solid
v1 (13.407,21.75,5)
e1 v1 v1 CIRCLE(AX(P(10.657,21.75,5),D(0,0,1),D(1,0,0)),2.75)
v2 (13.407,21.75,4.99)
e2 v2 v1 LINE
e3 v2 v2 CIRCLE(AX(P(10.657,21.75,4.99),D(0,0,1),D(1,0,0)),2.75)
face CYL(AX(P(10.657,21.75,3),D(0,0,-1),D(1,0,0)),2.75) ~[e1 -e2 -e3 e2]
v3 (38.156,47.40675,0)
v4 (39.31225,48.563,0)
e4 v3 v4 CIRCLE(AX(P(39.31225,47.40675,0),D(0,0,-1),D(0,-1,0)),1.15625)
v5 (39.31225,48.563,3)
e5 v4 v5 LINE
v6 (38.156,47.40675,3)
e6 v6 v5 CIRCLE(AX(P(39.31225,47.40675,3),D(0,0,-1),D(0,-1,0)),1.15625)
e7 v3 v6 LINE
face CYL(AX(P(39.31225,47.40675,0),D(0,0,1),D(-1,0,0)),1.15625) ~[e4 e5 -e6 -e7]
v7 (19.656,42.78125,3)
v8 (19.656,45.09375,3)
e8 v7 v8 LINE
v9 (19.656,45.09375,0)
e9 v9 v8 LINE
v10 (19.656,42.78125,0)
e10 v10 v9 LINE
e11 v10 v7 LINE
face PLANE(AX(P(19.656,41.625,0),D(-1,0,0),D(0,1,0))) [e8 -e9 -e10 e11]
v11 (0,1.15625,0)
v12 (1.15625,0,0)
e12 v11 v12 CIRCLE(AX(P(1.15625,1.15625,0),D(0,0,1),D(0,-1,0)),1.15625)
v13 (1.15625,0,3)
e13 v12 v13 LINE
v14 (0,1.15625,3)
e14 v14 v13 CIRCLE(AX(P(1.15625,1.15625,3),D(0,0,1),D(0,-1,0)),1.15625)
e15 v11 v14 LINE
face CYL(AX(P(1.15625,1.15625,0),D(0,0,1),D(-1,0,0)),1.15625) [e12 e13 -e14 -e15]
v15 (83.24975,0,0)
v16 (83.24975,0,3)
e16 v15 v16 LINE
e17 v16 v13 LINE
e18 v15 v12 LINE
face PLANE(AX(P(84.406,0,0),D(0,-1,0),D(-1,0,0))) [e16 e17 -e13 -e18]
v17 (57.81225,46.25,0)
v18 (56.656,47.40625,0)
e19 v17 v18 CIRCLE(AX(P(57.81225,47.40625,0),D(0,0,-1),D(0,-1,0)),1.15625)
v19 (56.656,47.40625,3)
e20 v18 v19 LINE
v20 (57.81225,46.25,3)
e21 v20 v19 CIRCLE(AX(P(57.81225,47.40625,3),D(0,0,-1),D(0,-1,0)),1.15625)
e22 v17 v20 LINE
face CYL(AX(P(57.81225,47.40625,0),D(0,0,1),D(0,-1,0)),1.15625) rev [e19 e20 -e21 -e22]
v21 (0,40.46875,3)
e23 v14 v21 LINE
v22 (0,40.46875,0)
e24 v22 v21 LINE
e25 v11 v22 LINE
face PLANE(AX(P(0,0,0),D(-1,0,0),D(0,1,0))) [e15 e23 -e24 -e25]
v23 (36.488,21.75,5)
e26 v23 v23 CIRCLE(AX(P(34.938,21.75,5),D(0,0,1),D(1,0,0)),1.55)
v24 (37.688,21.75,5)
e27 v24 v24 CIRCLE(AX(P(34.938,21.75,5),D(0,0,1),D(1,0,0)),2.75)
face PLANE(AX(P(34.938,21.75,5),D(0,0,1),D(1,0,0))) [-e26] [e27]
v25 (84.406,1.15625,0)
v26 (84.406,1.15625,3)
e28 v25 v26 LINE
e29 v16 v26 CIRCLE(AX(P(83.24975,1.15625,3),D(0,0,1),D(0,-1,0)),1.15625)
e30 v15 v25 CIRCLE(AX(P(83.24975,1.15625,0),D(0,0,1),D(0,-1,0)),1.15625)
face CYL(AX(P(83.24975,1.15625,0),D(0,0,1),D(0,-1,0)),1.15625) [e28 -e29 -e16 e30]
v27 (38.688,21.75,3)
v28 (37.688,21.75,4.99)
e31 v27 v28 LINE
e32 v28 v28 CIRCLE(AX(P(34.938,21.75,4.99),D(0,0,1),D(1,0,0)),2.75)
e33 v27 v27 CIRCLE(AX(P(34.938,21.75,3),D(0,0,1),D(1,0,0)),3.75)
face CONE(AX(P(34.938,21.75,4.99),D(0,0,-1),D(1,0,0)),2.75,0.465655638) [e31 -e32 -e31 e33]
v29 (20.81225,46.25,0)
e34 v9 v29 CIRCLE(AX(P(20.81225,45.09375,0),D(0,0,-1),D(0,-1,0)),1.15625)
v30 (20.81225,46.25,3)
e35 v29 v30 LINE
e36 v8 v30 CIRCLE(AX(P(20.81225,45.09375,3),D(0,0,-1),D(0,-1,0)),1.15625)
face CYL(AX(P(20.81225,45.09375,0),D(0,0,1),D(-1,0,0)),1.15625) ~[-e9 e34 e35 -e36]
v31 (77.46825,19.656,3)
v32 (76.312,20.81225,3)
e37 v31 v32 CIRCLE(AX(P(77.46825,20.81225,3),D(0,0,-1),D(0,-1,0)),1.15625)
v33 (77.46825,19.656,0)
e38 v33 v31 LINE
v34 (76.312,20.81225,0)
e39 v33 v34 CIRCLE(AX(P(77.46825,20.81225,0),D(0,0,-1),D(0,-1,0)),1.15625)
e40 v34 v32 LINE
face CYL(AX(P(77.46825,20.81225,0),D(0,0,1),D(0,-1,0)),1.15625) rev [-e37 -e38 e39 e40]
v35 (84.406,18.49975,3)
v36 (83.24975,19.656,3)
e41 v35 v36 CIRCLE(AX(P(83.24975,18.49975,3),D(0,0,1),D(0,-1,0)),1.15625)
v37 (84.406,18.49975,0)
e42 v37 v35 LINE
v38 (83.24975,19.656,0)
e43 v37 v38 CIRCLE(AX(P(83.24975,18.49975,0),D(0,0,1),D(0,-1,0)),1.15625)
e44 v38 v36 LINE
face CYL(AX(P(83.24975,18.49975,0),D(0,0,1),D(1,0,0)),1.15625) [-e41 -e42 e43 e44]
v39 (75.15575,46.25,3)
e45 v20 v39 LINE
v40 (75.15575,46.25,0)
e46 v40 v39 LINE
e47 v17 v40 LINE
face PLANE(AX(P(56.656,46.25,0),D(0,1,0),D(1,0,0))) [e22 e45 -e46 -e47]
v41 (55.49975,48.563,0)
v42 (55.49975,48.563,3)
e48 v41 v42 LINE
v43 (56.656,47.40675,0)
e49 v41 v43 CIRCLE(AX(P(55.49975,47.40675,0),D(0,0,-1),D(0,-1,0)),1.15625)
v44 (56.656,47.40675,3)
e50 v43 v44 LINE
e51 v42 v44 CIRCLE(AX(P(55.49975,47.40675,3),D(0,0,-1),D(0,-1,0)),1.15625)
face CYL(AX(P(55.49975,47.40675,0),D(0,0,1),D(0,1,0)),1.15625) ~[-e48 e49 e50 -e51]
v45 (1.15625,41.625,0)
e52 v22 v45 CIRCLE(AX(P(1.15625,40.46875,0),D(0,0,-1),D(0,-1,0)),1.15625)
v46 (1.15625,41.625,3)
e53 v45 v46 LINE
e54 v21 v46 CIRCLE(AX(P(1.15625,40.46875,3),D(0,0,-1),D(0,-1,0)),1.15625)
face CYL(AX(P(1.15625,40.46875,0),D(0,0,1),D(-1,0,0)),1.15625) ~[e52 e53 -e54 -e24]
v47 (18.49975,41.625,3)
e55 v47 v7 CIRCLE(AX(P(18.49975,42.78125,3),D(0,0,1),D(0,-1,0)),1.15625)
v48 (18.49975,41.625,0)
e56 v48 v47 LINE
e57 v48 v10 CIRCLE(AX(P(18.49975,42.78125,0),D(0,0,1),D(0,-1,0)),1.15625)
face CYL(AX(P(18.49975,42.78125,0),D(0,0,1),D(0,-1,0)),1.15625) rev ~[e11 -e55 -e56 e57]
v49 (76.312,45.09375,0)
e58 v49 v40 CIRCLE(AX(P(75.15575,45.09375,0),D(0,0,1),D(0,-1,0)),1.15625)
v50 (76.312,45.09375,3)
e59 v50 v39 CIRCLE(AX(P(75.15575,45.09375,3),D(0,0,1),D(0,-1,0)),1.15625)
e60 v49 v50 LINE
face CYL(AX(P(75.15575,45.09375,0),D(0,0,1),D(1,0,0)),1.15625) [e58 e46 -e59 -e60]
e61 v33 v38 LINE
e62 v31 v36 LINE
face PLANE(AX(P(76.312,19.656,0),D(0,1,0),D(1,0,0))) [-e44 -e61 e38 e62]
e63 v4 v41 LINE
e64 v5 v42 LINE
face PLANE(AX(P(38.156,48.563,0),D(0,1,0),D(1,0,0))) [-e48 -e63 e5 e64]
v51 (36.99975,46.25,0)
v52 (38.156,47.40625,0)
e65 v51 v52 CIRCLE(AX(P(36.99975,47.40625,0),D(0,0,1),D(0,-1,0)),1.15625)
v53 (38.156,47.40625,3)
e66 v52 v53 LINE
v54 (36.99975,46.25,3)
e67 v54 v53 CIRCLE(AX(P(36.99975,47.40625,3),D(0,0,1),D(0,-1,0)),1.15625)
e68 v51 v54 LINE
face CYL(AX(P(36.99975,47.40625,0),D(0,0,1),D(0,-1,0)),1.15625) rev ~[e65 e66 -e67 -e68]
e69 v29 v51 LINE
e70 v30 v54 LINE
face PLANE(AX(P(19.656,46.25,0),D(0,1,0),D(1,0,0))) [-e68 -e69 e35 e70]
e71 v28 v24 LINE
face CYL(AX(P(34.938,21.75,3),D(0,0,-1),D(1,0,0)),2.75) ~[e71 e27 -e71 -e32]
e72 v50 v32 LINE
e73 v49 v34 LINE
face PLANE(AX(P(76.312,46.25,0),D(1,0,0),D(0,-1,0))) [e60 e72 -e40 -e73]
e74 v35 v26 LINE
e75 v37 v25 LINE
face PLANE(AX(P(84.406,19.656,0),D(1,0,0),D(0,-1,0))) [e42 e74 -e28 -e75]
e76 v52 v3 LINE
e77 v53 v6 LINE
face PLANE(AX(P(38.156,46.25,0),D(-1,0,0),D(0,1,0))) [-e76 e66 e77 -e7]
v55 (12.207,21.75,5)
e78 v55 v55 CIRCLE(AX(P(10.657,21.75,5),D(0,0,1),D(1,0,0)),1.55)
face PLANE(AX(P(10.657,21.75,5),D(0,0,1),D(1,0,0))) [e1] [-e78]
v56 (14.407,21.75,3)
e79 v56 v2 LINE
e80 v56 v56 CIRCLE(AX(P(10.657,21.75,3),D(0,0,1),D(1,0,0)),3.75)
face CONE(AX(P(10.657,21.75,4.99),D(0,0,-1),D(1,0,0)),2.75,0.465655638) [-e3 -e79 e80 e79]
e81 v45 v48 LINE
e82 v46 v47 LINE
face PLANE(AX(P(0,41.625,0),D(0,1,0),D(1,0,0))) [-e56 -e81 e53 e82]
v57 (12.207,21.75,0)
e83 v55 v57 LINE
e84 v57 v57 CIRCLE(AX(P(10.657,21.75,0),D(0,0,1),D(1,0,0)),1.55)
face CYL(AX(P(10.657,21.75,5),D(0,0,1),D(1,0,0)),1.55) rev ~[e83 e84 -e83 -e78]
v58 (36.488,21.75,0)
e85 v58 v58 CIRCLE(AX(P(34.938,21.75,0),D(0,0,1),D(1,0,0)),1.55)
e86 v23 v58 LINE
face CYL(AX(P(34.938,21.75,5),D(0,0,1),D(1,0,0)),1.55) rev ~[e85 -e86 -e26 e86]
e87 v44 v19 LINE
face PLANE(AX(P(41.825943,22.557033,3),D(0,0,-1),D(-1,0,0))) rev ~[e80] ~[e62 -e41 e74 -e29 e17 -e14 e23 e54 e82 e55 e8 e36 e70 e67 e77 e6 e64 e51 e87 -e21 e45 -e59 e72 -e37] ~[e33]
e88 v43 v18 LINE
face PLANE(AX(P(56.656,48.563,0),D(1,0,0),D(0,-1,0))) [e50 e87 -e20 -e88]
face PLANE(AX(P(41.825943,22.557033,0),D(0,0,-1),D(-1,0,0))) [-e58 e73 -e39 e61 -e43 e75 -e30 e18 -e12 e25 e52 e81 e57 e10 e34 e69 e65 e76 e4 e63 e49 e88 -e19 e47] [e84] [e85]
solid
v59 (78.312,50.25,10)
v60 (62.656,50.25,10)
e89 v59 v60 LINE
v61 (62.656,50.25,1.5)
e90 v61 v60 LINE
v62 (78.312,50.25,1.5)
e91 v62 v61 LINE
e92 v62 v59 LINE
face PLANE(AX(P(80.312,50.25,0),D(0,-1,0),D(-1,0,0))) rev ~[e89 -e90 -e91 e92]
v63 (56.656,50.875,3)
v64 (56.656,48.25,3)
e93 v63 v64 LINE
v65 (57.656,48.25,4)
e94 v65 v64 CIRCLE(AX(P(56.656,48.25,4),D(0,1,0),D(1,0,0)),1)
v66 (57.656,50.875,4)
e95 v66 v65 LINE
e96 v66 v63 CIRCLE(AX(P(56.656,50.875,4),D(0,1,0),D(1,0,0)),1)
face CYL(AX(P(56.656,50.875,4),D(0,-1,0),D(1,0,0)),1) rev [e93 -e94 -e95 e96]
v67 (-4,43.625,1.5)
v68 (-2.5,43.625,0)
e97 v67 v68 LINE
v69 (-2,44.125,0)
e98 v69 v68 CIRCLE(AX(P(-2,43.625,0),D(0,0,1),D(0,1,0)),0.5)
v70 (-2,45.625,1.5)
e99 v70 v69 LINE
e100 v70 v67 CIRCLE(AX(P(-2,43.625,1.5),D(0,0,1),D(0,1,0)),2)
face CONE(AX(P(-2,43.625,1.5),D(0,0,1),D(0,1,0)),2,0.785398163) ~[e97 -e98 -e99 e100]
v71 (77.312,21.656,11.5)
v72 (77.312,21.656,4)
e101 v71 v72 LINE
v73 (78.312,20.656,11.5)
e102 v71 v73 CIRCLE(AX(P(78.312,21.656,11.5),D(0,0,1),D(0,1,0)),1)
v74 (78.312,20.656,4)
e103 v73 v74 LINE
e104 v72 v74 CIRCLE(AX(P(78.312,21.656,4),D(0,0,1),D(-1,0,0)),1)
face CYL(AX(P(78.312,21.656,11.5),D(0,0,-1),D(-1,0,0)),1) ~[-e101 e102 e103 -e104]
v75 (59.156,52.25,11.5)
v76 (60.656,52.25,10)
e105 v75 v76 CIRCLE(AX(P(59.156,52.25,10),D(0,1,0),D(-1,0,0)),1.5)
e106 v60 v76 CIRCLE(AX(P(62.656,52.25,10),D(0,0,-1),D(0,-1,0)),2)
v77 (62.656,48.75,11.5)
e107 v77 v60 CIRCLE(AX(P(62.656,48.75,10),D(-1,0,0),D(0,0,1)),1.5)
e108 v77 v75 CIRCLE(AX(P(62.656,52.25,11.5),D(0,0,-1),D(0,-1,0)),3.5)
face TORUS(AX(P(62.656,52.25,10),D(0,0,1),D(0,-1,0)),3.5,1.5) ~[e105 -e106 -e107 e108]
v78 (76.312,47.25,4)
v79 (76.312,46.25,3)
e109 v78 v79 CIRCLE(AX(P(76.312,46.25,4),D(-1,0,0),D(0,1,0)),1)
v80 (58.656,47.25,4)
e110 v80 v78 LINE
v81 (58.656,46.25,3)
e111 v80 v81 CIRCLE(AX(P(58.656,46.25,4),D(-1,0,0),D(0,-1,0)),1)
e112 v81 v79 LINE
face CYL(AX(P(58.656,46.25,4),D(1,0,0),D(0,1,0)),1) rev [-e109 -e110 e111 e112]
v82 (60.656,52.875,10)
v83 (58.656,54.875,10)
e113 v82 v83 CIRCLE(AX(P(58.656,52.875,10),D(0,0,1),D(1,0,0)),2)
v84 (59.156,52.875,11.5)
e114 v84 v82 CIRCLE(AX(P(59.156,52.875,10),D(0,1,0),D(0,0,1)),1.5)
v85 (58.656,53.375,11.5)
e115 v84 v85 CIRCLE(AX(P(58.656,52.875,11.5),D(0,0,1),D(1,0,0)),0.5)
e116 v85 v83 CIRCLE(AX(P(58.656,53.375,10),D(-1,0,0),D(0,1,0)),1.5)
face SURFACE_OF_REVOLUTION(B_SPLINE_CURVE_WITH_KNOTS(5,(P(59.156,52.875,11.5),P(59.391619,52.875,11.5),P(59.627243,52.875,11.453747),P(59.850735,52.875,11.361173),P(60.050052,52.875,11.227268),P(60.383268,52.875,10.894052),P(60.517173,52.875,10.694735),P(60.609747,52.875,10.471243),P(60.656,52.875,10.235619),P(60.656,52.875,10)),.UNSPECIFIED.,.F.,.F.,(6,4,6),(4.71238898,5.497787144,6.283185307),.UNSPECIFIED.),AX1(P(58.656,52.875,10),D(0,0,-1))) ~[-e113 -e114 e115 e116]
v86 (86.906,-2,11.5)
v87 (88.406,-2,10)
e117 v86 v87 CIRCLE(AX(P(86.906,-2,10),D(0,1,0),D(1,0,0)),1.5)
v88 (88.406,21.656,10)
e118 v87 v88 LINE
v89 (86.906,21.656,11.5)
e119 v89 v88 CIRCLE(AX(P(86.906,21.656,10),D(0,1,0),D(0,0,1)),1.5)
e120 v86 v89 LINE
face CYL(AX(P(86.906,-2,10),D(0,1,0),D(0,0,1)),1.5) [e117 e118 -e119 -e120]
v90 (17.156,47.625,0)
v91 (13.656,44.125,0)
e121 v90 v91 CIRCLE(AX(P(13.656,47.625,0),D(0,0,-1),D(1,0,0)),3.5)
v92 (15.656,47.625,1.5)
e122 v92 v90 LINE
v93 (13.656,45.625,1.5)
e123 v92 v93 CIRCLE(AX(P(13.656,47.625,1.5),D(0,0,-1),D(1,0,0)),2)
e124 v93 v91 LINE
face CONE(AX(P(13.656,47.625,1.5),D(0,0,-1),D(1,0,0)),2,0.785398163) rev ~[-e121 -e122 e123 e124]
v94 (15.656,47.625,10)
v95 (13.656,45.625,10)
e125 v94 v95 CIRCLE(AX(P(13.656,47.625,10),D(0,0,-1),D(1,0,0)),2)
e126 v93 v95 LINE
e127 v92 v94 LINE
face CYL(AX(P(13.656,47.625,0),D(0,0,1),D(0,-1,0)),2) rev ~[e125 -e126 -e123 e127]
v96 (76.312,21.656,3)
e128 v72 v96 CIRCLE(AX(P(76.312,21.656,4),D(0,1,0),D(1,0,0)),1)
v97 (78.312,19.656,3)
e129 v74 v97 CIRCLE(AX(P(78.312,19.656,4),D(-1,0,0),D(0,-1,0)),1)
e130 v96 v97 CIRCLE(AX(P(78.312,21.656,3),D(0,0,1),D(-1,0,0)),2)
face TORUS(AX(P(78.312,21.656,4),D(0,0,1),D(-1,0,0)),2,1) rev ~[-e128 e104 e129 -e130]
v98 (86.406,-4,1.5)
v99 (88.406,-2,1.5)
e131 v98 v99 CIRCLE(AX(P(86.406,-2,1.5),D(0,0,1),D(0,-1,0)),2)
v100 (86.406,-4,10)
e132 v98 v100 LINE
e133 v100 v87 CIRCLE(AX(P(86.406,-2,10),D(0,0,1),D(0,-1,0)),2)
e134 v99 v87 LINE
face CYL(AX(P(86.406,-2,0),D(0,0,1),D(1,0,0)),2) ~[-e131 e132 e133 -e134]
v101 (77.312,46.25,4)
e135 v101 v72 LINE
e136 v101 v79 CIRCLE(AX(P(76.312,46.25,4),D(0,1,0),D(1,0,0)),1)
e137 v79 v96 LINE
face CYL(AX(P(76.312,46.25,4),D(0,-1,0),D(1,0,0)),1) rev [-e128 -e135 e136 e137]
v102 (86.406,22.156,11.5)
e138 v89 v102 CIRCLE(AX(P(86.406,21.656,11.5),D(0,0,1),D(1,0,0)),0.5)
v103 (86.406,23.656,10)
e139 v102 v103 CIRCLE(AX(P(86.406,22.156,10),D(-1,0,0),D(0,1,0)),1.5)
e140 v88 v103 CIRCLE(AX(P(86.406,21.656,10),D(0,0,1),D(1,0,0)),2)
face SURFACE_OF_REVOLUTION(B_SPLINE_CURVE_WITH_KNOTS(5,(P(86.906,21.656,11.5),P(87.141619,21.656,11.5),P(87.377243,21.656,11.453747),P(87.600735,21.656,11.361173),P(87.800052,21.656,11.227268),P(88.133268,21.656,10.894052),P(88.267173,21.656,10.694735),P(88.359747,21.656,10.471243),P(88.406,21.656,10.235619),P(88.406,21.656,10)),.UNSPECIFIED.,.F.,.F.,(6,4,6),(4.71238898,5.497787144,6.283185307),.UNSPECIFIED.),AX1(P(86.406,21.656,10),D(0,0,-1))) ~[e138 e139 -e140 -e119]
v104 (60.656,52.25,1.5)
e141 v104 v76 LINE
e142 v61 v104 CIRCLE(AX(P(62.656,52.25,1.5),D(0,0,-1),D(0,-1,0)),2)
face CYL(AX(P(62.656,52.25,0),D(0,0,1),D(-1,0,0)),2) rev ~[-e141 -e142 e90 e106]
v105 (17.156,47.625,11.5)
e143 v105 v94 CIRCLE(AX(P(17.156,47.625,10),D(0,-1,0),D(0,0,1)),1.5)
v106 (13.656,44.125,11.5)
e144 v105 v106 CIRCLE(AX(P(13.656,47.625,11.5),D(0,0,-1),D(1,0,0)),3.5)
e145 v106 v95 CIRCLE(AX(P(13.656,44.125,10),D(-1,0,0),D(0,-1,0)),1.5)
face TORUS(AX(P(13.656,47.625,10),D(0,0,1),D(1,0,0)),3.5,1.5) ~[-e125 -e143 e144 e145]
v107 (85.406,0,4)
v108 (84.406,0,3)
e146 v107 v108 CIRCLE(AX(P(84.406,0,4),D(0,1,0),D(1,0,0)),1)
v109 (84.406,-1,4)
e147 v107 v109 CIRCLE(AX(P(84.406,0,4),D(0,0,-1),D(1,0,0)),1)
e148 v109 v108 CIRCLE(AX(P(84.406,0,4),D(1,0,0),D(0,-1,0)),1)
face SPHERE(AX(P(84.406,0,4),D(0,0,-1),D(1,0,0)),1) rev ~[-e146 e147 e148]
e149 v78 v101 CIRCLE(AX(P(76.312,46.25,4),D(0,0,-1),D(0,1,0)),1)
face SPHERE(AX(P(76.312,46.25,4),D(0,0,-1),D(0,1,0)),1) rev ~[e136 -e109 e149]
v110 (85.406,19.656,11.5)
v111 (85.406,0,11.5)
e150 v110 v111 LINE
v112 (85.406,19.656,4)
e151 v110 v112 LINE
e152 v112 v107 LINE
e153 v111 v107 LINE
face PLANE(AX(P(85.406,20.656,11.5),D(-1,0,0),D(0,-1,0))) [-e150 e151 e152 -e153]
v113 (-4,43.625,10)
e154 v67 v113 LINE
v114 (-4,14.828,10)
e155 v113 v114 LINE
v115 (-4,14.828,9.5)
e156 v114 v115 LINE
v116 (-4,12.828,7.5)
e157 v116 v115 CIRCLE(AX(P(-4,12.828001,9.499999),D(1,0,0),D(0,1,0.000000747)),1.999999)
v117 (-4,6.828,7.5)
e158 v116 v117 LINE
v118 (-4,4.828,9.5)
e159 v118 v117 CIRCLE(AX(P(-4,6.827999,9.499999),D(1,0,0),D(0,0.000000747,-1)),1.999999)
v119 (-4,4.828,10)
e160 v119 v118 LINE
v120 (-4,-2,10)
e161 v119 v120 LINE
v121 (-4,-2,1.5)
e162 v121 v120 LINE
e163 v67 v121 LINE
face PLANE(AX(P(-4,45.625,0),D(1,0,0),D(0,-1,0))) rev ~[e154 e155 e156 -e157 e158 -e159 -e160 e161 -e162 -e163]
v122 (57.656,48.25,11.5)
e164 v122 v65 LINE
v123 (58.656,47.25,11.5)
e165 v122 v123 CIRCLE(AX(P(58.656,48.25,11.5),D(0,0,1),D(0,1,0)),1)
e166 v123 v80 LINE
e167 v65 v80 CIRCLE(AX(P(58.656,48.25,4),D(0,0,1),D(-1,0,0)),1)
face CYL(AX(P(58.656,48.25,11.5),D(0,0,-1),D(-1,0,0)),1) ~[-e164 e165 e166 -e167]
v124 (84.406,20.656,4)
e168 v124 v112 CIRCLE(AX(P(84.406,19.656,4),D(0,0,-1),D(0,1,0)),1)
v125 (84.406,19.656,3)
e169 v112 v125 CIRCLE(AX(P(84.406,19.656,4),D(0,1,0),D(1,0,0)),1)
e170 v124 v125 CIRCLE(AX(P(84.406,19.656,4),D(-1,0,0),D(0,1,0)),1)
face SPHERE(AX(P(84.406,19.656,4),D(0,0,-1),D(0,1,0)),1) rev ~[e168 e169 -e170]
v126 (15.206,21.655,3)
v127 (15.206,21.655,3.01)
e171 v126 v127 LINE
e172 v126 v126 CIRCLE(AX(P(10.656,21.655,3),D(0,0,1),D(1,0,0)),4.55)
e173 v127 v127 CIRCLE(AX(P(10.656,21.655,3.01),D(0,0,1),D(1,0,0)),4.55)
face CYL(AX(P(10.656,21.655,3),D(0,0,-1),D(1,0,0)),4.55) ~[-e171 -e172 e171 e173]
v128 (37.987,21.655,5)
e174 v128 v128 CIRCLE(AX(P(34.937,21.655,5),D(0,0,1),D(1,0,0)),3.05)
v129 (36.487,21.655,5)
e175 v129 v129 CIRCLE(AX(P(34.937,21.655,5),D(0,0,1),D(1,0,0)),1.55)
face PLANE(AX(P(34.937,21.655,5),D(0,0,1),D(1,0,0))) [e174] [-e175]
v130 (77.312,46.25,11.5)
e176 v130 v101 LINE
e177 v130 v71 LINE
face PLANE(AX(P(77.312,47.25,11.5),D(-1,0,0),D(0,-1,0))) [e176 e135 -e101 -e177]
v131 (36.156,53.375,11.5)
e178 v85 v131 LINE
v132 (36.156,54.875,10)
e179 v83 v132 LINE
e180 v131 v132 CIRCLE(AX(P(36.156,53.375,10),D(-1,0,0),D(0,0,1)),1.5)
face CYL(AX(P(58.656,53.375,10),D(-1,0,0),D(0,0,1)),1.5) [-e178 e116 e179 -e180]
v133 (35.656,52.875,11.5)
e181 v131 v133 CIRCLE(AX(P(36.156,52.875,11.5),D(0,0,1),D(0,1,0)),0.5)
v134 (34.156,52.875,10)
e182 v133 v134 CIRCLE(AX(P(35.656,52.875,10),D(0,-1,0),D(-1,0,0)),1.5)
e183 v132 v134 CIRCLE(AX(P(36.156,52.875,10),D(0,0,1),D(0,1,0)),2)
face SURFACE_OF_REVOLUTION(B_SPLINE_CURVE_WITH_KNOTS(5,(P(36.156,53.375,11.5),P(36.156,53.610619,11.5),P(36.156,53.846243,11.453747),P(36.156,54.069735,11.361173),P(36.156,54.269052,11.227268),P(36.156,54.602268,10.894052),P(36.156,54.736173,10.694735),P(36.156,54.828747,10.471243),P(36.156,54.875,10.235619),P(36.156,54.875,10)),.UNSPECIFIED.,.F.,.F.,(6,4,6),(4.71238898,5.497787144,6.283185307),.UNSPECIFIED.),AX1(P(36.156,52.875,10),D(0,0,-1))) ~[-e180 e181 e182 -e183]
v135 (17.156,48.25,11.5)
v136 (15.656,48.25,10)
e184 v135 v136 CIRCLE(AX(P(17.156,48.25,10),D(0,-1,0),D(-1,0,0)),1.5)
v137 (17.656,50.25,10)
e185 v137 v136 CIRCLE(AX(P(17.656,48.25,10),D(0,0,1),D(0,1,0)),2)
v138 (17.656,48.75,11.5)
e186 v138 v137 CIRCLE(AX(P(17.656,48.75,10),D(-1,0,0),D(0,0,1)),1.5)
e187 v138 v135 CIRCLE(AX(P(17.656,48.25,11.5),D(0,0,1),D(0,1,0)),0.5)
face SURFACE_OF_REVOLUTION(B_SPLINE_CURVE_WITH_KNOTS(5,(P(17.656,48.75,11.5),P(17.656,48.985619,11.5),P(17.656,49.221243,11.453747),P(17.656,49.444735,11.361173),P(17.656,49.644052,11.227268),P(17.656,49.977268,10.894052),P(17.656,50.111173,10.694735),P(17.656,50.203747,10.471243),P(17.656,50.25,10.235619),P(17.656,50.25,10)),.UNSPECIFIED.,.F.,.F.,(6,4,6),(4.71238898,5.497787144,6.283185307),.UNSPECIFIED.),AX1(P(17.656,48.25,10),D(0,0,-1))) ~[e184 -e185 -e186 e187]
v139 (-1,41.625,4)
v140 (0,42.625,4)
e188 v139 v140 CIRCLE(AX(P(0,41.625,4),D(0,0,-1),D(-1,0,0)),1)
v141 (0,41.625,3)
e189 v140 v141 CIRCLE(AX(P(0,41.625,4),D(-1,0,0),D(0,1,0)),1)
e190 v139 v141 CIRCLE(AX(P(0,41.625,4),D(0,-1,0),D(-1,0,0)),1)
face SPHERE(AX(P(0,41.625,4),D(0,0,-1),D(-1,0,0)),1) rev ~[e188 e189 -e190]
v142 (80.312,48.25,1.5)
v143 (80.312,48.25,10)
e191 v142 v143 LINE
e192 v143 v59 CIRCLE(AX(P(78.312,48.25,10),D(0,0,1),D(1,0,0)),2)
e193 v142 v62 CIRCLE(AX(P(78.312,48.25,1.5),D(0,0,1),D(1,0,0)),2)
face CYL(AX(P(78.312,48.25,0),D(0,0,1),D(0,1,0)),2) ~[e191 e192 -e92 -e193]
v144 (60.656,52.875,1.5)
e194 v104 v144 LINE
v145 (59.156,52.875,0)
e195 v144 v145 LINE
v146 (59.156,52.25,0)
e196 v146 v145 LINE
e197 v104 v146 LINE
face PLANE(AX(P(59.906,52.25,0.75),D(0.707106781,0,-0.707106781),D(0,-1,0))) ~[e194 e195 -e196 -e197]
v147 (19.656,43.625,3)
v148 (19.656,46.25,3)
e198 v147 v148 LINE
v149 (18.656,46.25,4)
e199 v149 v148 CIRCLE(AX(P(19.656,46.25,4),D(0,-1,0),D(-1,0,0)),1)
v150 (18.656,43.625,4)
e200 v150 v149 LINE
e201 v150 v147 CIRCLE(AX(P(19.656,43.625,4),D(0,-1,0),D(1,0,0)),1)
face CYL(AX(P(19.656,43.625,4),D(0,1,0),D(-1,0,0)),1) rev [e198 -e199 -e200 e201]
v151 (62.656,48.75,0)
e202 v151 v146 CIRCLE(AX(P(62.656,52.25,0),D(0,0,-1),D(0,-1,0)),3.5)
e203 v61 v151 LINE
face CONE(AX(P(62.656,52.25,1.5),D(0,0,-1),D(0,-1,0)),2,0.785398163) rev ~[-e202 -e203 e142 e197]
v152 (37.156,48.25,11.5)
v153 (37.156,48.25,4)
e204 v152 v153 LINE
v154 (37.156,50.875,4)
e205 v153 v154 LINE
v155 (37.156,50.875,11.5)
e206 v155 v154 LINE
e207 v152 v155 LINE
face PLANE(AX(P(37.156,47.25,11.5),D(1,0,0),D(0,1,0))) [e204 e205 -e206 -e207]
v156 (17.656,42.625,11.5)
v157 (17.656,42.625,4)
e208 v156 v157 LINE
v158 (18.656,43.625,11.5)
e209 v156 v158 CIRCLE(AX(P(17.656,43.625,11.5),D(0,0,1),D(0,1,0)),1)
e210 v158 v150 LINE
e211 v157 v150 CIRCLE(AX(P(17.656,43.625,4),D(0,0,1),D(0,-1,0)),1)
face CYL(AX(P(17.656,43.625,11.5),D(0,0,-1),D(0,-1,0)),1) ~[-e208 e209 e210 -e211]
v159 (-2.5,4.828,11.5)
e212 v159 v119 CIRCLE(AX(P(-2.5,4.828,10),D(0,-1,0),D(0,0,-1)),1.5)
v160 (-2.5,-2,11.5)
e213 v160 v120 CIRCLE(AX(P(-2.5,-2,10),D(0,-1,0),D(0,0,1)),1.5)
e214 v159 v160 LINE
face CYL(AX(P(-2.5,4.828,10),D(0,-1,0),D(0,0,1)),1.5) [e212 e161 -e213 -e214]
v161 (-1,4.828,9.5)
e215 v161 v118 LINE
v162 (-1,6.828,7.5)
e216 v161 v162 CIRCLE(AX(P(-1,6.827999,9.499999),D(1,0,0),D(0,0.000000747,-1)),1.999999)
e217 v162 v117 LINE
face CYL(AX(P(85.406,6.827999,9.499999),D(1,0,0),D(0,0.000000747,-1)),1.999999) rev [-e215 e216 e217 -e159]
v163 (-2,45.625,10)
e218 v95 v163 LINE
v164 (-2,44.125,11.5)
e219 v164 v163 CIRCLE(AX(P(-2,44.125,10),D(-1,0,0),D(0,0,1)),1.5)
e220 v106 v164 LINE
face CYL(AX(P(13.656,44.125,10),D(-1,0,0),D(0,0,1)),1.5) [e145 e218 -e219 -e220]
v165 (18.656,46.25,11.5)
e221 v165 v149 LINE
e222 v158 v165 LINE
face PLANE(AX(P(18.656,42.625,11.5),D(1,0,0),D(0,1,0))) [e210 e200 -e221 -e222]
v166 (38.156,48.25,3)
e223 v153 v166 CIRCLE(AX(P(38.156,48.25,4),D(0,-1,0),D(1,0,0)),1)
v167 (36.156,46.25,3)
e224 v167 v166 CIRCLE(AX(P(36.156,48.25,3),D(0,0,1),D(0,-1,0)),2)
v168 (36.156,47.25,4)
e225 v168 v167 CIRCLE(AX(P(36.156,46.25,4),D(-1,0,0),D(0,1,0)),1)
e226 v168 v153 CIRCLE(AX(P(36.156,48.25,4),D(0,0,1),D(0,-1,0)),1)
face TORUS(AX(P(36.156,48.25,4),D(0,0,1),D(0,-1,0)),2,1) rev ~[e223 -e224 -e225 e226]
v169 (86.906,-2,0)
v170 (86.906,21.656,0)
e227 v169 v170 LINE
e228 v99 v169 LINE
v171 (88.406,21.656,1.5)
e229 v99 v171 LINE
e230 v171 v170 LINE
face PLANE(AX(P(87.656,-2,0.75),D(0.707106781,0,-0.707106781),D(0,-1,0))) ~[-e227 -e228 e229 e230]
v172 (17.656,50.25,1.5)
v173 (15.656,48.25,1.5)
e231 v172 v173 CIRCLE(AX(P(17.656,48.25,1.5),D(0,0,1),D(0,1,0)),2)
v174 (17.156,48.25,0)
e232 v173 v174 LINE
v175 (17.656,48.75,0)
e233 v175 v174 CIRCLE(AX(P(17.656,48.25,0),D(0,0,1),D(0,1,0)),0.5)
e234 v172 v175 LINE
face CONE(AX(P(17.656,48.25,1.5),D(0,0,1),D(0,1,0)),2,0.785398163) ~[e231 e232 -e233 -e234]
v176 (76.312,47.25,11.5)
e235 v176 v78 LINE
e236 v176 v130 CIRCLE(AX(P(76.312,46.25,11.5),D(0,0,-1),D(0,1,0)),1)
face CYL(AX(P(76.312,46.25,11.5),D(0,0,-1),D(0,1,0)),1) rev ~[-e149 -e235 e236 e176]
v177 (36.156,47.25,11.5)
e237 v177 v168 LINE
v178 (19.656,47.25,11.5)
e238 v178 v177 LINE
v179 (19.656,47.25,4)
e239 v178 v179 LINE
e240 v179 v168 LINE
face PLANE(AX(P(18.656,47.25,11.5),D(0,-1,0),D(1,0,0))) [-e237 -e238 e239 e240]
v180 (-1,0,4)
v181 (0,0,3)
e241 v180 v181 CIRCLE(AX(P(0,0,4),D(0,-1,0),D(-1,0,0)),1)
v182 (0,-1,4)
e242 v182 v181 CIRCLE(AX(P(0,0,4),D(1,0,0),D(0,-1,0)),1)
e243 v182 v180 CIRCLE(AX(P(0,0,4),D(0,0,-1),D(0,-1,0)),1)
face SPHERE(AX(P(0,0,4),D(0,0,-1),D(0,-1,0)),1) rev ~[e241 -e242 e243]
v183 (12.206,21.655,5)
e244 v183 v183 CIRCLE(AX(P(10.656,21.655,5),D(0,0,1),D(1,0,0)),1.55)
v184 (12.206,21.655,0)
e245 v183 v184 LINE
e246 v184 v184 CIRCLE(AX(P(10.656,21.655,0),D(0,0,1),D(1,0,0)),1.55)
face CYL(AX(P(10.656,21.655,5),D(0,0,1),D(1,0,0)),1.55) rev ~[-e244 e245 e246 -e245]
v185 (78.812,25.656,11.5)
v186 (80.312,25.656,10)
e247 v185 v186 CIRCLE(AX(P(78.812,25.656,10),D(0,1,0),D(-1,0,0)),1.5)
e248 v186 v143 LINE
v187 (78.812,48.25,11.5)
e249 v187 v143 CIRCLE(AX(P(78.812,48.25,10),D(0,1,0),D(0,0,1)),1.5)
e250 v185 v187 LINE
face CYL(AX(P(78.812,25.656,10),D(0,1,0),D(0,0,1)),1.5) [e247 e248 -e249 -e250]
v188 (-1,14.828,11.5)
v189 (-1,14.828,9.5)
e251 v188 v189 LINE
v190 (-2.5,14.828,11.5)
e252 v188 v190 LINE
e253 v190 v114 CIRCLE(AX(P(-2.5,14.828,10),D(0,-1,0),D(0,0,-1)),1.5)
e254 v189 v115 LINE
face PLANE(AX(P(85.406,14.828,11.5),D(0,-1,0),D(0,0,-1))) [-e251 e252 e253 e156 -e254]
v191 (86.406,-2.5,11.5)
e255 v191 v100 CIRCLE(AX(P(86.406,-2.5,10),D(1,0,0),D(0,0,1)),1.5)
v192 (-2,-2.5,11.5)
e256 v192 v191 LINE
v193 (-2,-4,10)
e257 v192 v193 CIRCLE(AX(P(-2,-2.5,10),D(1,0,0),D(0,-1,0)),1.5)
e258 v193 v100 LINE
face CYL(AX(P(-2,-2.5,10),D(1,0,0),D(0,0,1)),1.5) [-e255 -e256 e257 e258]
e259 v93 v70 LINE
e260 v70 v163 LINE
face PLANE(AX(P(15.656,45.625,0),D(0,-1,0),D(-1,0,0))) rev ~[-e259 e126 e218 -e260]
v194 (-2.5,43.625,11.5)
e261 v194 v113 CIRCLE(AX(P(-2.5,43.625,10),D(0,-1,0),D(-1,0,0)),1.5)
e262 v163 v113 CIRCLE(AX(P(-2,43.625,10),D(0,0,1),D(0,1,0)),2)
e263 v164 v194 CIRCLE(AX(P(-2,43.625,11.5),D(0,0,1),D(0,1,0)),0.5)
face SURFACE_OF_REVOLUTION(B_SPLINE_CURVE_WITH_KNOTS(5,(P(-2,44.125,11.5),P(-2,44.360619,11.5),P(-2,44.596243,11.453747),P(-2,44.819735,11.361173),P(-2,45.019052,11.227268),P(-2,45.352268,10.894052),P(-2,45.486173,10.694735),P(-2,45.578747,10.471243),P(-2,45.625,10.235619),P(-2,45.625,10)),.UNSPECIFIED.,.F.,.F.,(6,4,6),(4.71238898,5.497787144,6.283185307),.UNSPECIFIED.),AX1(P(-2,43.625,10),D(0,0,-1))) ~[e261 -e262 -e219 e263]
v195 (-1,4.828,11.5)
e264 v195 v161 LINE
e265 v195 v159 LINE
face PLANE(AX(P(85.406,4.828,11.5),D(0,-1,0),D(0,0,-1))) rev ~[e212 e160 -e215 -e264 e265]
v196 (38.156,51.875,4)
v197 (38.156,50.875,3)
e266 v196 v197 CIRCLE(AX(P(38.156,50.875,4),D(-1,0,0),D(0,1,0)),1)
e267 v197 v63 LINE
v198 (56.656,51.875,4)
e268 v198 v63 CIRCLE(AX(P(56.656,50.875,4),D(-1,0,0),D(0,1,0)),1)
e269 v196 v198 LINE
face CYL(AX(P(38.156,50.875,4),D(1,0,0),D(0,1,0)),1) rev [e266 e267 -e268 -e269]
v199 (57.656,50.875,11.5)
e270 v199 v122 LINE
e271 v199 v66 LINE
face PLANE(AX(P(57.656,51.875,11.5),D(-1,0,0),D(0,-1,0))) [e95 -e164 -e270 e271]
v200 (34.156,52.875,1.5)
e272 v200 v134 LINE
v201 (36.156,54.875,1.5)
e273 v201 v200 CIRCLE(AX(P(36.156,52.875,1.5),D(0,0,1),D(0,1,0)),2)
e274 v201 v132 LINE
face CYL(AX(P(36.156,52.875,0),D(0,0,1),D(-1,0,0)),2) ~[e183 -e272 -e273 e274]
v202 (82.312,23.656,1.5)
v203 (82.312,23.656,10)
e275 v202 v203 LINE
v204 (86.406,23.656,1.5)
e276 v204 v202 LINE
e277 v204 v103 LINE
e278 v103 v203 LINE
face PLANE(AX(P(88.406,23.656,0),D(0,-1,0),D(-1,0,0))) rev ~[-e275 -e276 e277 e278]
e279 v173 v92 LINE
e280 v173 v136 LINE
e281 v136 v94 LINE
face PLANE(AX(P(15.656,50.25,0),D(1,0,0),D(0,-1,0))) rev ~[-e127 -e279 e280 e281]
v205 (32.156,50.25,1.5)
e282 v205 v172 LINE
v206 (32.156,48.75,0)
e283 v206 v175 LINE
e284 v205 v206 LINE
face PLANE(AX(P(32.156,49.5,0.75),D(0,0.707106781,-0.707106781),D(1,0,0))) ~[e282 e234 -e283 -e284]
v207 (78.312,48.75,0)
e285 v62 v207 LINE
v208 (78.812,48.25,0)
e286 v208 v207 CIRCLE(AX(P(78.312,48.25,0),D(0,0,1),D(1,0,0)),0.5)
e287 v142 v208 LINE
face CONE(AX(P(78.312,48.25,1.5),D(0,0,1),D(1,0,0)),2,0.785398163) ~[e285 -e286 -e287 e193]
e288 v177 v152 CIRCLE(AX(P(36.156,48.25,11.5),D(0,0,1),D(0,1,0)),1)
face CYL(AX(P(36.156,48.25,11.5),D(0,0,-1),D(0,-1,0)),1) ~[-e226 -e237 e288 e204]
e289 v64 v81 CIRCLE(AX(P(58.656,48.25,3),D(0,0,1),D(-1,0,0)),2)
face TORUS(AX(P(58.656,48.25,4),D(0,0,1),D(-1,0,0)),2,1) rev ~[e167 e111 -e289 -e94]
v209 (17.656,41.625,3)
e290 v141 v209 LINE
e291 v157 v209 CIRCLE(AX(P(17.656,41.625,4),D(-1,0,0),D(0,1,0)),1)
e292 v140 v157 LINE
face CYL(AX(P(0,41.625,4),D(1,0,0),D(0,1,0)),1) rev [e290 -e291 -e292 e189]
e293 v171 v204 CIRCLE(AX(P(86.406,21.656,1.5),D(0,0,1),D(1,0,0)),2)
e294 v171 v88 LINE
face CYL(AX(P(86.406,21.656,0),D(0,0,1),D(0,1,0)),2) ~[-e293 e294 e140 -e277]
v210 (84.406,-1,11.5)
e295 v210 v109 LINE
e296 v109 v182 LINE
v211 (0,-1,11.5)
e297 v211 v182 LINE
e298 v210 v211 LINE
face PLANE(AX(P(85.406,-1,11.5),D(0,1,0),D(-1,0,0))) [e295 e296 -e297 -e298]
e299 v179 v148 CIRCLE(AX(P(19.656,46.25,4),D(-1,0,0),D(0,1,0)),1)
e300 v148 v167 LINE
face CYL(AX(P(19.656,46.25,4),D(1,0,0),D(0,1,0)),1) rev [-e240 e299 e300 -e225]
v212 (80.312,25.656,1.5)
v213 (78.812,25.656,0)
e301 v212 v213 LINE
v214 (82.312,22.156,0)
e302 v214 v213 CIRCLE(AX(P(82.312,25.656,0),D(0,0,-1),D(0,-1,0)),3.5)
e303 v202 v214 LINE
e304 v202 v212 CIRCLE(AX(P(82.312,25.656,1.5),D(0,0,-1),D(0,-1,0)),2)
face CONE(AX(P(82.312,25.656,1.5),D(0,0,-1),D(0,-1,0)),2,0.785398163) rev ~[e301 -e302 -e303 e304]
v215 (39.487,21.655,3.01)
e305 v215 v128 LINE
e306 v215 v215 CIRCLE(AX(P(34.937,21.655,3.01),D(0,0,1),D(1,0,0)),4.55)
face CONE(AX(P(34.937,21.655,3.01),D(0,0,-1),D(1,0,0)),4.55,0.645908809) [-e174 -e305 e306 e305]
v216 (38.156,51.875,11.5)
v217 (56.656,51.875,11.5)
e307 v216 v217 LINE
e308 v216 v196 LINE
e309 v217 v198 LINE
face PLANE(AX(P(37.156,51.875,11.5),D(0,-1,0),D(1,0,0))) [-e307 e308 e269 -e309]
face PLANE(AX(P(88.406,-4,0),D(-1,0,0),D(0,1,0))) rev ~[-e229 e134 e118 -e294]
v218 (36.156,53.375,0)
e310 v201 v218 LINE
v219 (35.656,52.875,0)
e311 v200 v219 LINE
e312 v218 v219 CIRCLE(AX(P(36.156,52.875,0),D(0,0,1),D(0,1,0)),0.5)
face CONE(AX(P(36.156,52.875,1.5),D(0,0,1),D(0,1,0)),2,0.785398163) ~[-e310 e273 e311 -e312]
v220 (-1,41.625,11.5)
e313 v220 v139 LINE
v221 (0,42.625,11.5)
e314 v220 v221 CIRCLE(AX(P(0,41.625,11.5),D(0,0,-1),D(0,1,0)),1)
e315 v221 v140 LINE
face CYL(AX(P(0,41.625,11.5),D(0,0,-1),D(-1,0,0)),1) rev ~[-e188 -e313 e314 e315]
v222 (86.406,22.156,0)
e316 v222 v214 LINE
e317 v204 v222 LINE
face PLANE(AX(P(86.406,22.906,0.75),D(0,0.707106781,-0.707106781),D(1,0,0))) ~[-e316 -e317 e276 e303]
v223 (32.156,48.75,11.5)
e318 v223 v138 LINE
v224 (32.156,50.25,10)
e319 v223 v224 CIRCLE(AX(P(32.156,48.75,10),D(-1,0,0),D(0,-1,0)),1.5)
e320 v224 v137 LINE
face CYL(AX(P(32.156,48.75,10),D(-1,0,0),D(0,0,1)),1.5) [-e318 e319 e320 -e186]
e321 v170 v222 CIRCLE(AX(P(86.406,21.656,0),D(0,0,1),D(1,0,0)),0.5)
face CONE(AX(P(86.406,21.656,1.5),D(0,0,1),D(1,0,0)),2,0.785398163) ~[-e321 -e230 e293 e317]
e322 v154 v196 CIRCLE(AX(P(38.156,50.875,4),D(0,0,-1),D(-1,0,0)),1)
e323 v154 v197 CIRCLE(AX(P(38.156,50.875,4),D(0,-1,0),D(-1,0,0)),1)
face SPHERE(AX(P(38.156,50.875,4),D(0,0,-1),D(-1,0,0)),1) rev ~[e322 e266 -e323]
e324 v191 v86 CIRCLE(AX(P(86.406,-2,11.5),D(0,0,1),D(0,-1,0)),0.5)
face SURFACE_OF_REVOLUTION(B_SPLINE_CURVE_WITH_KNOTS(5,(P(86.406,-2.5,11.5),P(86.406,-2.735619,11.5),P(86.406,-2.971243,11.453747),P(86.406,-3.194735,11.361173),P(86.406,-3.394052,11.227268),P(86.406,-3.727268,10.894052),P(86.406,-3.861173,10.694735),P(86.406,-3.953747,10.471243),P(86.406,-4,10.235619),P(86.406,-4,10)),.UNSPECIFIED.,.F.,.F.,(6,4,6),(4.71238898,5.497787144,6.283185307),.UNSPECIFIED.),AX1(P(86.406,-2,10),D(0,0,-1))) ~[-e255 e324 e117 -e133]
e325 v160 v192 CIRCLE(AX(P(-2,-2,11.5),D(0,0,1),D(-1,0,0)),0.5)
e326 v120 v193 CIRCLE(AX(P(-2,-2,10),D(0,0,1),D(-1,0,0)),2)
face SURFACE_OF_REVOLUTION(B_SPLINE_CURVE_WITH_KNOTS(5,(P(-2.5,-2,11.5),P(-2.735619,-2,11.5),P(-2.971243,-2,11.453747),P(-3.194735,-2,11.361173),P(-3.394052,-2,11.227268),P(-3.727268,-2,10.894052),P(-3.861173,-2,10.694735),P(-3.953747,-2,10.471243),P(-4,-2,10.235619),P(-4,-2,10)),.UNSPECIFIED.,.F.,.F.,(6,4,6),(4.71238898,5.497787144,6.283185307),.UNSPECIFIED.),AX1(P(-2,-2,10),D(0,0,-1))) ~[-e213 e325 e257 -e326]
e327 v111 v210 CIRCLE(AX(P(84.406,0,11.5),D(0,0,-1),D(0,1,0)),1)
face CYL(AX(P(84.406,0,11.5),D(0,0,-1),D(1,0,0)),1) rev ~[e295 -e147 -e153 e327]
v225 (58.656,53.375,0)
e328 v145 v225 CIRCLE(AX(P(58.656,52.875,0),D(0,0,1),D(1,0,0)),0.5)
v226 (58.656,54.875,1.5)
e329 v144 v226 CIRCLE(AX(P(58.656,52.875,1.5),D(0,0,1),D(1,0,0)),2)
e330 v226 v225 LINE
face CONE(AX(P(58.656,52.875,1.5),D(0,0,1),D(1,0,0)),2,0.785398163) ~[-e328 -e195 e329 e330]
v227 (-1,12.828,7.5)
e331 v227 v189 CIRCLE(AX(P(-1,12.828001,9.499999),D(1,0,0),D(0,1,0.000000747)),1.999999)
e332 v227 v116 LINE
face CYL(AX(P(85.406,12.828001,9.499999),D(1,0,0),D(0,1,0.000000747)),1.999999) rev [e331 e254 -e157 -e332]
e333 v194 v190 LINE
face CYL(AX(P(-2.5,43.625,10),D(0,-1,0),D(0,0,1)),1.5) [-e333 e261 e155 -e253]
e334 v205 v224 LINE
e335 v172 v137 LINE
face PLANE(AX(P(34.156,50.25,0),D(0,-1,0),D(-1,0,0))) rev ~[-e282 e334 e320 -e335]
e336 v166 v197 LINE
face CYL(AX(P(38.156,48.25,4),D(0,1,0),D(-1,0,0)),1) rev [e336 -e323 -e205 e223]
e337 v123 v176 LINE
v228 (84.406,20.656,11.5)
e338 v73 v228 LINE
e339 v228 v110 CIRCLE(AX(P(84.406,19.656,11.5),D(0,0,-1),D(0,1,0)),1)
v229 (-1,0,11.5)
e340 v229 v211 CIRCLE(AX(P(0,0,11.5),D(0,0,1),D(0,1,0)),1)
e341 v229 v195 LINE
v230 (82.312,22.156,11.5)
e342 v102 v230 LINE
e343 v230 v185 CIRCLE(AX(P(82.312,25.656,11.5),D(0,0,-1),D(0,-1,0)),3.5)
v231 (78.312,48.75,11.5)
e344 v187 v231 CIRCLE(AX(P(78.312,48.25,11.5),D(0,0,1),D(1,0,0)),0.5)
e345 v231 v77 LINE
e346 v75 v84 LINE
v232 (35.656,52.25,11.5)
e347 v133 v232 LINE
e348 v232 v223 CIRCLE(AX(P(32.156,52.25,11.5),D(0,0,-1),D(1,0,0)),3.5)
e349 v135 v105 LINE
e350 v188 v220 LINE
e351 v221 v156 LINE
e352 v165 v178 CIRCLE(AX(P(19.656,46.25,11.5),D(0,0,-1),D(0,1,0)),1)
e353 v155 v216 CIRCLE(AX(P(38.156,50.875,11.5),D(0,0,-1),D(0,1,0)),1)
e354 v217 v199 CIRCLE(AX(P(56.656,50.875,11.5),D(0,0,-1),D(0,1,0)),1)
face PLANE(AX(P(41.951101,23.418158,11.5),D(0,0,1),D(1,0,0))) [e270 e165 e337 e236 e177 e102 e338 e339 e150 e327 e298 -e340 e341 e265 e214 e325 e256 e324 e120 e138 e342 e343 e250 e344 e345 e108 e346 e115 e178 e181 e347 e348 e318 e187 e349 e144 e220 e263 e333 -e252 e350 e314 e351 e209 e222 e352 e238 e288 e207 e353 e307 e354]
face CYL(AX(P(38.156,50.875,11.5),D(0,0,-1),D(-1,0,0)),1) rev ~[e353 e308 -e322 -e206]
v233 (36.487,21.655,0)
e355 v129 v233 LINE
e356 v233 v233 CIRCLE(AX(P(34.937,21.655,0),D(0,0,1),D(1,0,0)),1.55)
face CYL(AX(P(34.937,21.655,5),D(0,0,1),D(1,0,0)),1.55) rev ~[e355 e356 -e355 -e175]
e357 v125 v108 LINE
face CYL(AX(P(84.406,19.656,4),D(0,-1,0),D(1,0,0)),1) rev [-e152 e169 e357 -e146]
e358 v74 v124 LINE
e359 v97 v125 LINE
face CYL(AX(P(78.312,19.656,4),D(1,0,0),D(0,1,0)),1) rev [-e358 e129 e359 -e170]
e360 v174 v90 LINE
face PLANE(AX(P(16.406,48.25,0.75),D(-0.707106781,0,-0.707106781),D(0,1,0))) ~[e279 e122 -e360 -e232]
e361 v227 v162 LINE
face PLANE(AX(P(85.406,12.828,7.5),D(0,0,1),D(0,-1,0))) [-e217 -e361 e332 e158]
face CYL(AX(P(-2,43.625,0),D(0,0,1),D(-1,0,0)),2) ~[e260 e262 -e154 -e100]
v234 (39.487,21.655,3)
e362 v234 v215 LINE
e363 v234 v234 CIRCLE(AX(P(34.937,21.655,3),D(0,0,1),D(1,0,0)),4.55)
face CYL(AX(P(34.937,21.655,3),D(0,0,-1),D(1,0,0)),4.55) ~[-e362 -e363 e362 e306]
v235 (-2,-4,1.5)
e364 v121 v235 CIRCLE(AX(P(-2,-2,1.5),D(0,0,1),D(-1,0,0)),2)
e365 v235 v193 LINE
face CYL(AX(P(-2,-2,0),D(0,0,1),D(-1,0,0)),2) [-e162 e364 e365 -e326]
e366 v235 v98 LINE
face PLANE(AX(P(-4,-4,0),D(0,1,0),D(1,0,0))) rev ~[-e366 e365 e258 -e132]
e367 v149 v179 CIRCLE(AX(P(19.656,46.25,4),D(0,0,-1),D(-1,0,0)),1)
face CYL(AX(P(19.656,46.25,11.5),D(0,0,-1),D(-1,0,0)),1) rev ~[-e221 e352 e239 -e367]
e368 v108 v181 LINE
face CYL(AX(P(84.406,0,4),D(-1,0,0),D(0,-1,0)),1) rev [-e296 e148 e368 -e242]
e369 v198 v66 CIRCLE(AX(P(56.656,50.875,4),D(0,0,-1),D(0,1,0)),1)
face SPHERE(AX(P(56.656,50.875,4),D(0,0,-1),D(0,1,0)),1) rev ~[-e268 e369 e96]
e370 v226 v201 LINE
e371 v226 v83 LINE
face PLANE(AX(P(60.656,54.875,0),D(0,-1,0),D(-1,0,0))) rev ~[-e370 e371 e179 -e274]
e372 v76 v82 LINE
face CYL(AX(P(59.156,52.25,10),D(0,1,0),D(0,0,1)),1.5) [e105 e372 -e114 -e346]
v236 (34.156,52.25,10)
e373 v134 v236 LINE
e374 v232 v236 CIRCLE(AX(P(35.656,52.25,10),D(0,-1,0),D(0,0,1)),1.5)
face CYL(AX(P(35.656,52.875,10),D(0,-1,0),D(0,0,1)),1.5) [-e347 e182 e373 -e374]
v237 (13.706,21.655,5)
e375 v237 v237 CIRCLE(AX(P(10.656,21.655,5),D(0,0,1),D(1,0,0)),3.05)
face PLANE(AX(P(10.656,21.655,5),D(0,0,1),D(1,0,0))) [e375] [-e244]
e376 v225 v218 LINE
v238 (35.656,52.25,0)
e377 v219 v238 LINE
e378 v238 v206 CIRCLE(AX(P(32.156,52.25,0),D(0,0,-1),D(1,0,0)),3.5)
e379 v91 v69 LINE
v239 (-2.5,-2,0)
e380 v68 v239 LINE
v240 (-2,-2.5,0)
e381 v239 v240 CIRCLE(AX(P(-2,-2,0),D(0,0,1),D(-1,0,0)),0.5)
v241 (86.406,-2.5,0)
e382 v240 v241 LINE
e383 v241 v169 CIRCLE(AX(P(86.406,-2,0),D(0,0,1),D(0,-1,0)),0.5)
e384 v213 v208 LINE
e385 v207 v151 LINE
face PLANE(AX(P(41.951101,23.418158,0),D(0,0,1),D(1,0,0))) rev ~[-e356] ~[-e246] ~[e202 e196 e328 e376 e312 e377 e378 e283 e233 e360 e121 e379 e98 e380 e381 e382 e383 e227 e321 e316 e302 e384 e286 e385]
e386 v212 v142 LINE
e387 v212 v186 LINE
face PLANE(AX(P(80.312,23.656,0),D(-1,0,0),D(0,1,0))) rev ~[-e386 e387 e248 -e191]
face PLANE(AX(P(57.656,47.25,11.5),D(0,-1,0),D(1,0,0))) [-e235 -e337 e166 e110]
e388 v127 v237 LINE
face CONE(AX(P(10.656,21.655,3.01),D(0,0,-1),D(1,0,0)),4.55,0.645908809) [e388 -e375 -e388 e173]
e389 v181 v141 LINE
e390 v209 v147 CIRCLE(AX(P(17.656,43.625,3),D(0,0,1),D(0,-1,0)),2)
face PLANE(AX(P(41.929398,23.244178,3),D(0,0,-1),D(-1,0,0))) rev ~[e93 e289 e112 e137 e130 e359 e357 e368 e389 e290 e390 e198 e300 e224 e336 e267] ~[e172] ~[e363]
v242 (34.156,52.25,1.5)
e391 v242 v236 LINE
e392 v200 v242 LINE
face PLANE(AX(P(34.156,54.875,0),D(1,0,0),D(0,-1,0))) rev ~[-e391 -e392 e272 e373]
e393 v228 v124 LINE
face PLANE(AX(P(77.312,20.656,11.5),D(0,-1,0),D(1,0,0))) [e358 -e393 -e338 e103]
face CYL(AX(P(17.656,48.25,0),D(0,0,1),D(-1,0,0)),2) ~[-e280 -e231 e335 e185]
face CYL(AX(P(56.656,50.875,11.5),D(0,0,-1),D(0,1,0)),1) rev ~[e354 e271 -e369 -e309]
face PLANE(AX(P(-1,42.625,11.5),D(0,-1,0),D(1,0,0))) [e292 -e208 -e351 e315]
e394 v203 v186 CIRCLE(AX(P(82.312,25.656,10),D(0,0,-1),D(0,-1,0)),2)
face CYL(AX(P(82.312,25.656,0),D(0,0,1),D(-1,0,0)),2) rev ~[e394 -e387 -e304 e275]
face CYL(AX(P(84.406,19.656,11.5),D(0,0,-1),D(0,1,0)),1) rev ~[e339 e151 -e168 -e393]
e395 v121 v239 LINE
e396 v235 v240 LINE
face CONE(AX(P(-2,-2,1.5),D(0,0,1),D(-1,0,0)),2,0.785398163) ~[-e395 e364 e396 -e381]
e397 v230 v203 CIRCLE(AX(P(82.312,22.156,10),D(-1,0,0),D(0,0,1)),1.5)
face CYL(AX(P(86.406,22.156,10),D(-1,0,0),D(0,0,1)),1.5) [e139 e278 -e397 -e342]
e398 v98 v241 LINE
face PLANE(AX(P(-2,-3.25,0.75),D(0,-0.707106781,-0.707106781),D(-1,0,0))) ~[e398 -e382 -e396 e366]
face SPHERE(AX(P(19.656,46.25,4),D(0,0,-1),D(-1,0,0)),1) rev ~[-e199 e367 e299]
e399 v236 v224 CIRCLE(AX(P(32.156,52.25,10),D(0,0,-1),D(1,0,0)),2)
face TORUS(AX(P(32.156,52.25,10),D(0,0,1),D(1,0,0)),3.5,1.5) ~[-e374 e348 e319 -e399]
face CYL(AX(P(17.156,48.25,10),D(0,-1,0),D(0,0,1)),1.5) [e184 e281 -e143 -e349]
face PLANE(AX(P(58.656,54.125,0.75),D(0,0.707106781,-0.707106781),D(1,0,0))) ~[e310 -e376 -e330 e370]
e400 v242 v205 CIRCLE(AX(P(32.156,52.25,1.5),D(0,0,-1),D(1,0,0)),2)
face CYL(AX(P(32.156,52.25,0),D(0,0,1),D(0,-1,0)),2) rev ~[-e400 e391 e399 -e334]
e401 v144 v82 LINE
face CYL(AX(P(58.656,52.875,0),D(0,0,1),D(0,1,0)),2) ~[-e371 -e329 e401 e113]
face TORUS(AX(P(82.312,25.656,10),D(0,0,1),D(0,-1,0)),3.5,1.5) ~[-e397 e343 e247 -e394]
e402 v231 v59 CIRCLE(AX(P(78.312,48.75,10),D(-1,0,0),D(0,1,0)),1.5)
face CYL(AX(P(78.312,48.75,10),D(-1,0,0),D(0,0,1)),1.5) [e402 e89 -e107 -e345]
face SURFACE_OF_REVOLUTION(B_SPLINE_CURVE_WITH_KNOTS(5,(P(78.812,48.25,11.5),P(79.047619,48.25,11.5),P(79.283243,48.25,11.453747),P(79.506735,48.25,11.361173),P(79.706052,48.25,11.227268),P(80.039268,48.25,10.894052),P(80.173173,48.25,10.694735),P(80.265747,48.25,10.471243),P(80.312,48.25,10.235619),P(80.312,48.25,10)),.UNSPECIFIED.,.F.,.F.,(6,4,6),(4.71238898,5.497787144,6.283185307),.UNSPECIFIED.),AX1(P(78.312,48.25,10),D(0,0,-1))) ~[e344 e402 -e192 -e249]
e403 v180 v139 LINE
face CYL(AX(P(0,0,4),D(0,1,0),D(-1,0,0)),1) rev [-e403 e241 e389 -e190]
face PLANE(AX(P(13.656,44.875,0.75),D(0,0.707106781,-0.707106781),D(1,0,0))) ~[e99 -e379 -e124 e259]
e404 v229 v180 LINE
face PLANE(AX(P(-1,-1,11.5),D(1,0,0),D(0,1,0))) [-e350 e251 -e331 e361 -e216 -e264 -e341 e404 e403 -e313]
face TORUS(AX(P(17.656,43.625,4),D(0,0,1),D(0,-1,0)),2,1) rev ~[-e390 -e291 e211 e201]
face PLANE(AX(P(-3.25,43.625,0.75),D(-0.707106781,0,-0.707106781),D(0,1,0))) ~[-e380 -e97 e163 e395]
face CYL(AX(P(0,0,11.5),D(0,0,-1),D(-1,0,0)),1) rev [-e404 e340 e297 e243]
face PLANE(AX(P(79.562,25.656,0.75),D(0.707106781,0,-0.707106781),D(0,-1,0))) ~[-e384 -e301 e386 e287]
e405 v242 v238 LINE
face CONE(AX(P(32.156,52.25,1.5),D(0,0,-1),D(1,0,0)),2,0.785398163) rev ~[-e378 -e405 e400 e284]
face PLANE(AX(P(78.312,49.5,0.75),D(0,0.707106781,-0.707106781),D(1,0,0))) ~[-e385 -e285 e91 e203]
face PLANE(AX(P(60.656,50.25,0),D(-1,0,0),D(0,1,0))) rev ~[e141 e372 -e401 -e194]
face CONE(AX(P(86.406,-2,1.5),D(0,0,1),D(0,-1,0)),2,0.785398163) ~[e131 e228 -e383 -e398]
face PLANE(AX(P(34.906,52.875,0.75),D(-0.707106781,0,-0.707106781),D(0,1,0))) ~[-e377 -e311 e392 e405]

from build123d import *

# Parameters (mm, degrees)
PAD_DEPTH          = 3
SKETCH001_R        = 2.75
PAD001_DEPTH       = 2
CHAMFER_SIZE2      = 1.99
CHAMFER_SIZE       = 1
SKETCH002_R        = 1.55
POCKET_DEPTH       = 5
FILLET_R           = 1.15625
PAD002_DEPTH       = 11.5
POCKET001_DEPTH    = 8.5
POCKET002_DEPTH    = 97
SKETCH006_R        = 4.55
PAD003_DEPTH       = 2
FILLET001_R        = 1
FILLET002_R        = 2
FILLET003_R        = 1.5
CHAMFER001_SIZE    = 1.5
FILLET004_R        = 1
SKETCH007_R        = 1.55
POCKET003_DEPTH    = 5
CHAMFER002_1_SIZE2 = 1.5
CHAMFER002_1_SIZE  = 1.99
CHAMFER002_2_SIZE2 = 1.5
CHAMFER002_2_SIZE  = 1.99


with BuildPart() as body:
    # Sketch → Pad (new body)
    with BuildSketch(Plane.XY):
        Polygon((0, 0), (0, 41.625), (19.656, 41.625), (19.656, 46.25), (38.156, 46.25), (38.156, 48.563), (56.656, 48.563), (56.656, 46.25), (76.312, 46.25), (76.312, 19.656), (84.406, 19.656), (84.406, 0), align=None)
    extrude(amount=PAD_DEPTH)

    # Sketch001 (on Face14 of Pad) → Pad001 (join)
    with BuildSketch(Plane.XY.offset(3)):
        with Locations((10.657, 21.75)):
            Circle(SKETCH001_R)
        with Locations((34.938, 21.75)):
            Circle(SKETCH001_R)
    extrude(amount=PAD001_DEPTH)

    # Chamfer
    chamfer_edges = [body.edges().sort_by_distance(p)[0] for p in [
        (7.907, 21.75, 3),
        (32.188, 21.75, 3),
    ]]
    chamfer_side = body.faces().sort_by_distance((41.05483, 22.316964, 3))[0]
    chamfer(chamfer_edges, length=CHAMFER_SIZE, length2=CHAMFER_SIZE2, reference=chamfer_side)

    # Sketch002 (on Face19 of Chamfer) → Pocket (cut)
    with BuildSketch(Plane.XY.offset(5)):
        with Locations((10.657, 21.75)):
            Circle(SKETCH002_R)
        with Locations((34.938, 21.75)):
            Circle(SKETCH002_R)
    extrude(amount=-POCKET_DEPTH, mode=Mode.SUBTRACT)

    # Fillet
    fillet_edges = [body.edges().sort_by_distance(p)[0] for p in [
        (84.406, 0, 1.5),
        (84.406, 19.656, 1.5),
        (76.312, 19.656, 1.5),
        (76.312, 46.25, 1.5),
        (56.656, 46.25, 1.5),
        (56.656, 48.563, 1.5),
        (38.156, 48.563, 1.5),
        (19.656, 46.25, 1.5),
        (0, 41.625, 1.5),
        (38.156, 46.25, 1.5),
        (19.656, 41.625, 1.5),
        (0, 0, 1.5),
    ]]
    fillet(fillet_edges, radius=FILLET_R)


with BuildPart() as body001:
    # Sketch003 → Pad002 (new body)
    with BuildSketch(Plane.XY):
        Polygon((-4, -4), (88.406, -4), (88.406, 23.656), (80.312, 23.656), (80.312, 50.25), (60.656, 50.25), (60.656, 54.875), (34.156, 54.875), (34.156, 50.25), (15.656, 50.25), (15.656, 45.625), (-4, 45.625), align=None)
    extrude(amount=PAD002_DEPTH)

    # Sketch004 (on Face14 of Pad002) → Pocket001 (cut)
    with BuildSketch(Plane.XY.offset(11.5)):
        Polygon((-1, 42.625), (18.656, 42.625), (18.656, 47.25), (37.156, 47.25), (37.156, 51.875), (57.656, 51.875), (57.656, 47.25), (77.312, 47.25), (77.312, 20.656), (85.406, 20.656), (85.406, -1), (-1, -1), align=None)
    extrude(amount=-POCKET001_DEPTH, mode=Mode.SUBTRACT)

    # Sketch005 (on Face17 of Pocket001) → Pocket002 (cut)
    with BuildSketch(Plane(origin=(85.406, 0, 0), x_dir=(0, -1, 0), z_dir=(-1, 0, 0))):
        with BuildLine():
            Line((-14.828, 11.5), (-14.828, 9.5))
            ThreePointArc((-14.828, 9.5), (-14.242214, 8.085786), (-12.828, 7.5))
            Line((-12.828, 7.5), (-6.828, 7.5))
            ThreePointArc((-6.828, 7.5), (-5.413786, 8.085786), (-4.828, 9.5))
            Line((-4.828, 11.5), (-4.828, 9.5))
            Line((-4.828, 11.5), (-14.828, 11.5))
        make_face()
    extrude(amount=POCKET002_DEPTH, mode=Mode.SUBTRACT)

    # Sketch006 → Pad003 (join)
    with BuildSketch(Plane.XY.offset(3)):
        with Locations((10.656, 21.655)):
            Circle(SKETCH006_R)
        with Locations((34.937, 21.655)):
            Circle(SKETCH006_R)
    extrude(amount=PAD003_DEPTH)

    # Fillet001
    fillet001_edges = [body001.edges().sort_by_distance(p)[0] for p in [
        (18.656, 42.625, 7.25),
        (-1, 42.625, 7.25),
        (18.656, 47.25, 7.25),
        (37.156, 47.25, 7.25),
        (37.156, 51.875, 7.25),
        (57.656, 47.25, 7.25),
        (77.312, 20.656, 7.25),
        (57.656, 51.875, 7.25),
        (77.312, 47.25, 7.25),
        (85.406, 20.656, 7.25),
        (85.406, -1, 7.25),
        (-1, -1, 7.25),
    ]]
    fillet(fillet001_edges, radius=FILLET001_R)

    # Fillet002
    fillet002_edges = [body001.edges().sort_by_distance(p)[0] for p in [
        (-4, -4, 5.75),
        (88.406, -4, 5.75),
        (88.406, 23.656, 5.75),
        (80.312, 23.656, 5.75),
        (80.312, 50.25, 5.75),
        (60.656, 50.25, 5.75),
        (60.656, 54.875, 5.75),
        (34.156, 54.875, 5.75),
        (15.656, 50.25, 5.75),
        (-4, 45.625, 5.75),
        (34.156, 50.25, 5.75),
        (15.656, 45.625, 5.75),
    ]]
    fillet(fillet002_edges, radius=FILLET002_R)

    # Fillet003
    fillet003_edges = [body001.edges().sort_by_distance(p)[0] for p in [
        (42.203, -4, 11.5),
    ]]
    fillet(fillet003_edges, radius=FILLET003_R)

    # Chamfer001
    chamfer001_edges = [body001.edges().sort_by_distance(p)[0] for p in [
        (42.203, -4, 0),
    ]]
    chamfer(chamfer001_edges, length=CHAMFER001_SIZE)

    # Fillet004
    fillet004_edges = [body001.edges().sort_by_distance(p)[0] for p in [
        (47.406, 51.875, 3),
    ]]
    fillet(fillet004_edges, radius=FILLET004_R)

    # Sketch007 (on Face109 of Fillet004) → Pocket003 (cut)
    with BuildSketch(Plane.XY.offset(5)):
        with Locations((10.656, 21.655)):
            Circle(SKETCH007_R)
        with Locations((34.937, 21.655)):
            Circle(SKETCH007_R)
    extrude(amount=-POCKET003_DEPTH, mode=Mode.SUBTRACT)

    # Chamfer002 1
    chamfer002_1_edges = [body001.edges().sort_by_distance(p)[0] for p in [
        (6.106, 21.655, 5),
    ]]
    chamfer002_1_side = body001.faces().sort_by_distance((6.106, 21.655, 4))[0]
    chamfer(chamfer002_1_edges, length=CHAMFER002_1_SIZE, length2=CHAMFER002_1_SIZE2, reference=chamfer002_1_side)

    # Chamfer002 2
    chamfer002_2_edges = [body001.edges().sort_by_distance(p)[0] for p in [
        (30.387, 21.655, 5),
    ]]
    chamfer002_2_side = body001.faces().sort_by_distance((30.387, 21.655, 4))[0]
    chamfer(chamfer002_2_edges, length=CHAMFER002_2_SIZE, length2=CHAMFER002_2_SIZE2, reference=chamfer002_2_side)


solid = Compound([body.part, body001.part])
